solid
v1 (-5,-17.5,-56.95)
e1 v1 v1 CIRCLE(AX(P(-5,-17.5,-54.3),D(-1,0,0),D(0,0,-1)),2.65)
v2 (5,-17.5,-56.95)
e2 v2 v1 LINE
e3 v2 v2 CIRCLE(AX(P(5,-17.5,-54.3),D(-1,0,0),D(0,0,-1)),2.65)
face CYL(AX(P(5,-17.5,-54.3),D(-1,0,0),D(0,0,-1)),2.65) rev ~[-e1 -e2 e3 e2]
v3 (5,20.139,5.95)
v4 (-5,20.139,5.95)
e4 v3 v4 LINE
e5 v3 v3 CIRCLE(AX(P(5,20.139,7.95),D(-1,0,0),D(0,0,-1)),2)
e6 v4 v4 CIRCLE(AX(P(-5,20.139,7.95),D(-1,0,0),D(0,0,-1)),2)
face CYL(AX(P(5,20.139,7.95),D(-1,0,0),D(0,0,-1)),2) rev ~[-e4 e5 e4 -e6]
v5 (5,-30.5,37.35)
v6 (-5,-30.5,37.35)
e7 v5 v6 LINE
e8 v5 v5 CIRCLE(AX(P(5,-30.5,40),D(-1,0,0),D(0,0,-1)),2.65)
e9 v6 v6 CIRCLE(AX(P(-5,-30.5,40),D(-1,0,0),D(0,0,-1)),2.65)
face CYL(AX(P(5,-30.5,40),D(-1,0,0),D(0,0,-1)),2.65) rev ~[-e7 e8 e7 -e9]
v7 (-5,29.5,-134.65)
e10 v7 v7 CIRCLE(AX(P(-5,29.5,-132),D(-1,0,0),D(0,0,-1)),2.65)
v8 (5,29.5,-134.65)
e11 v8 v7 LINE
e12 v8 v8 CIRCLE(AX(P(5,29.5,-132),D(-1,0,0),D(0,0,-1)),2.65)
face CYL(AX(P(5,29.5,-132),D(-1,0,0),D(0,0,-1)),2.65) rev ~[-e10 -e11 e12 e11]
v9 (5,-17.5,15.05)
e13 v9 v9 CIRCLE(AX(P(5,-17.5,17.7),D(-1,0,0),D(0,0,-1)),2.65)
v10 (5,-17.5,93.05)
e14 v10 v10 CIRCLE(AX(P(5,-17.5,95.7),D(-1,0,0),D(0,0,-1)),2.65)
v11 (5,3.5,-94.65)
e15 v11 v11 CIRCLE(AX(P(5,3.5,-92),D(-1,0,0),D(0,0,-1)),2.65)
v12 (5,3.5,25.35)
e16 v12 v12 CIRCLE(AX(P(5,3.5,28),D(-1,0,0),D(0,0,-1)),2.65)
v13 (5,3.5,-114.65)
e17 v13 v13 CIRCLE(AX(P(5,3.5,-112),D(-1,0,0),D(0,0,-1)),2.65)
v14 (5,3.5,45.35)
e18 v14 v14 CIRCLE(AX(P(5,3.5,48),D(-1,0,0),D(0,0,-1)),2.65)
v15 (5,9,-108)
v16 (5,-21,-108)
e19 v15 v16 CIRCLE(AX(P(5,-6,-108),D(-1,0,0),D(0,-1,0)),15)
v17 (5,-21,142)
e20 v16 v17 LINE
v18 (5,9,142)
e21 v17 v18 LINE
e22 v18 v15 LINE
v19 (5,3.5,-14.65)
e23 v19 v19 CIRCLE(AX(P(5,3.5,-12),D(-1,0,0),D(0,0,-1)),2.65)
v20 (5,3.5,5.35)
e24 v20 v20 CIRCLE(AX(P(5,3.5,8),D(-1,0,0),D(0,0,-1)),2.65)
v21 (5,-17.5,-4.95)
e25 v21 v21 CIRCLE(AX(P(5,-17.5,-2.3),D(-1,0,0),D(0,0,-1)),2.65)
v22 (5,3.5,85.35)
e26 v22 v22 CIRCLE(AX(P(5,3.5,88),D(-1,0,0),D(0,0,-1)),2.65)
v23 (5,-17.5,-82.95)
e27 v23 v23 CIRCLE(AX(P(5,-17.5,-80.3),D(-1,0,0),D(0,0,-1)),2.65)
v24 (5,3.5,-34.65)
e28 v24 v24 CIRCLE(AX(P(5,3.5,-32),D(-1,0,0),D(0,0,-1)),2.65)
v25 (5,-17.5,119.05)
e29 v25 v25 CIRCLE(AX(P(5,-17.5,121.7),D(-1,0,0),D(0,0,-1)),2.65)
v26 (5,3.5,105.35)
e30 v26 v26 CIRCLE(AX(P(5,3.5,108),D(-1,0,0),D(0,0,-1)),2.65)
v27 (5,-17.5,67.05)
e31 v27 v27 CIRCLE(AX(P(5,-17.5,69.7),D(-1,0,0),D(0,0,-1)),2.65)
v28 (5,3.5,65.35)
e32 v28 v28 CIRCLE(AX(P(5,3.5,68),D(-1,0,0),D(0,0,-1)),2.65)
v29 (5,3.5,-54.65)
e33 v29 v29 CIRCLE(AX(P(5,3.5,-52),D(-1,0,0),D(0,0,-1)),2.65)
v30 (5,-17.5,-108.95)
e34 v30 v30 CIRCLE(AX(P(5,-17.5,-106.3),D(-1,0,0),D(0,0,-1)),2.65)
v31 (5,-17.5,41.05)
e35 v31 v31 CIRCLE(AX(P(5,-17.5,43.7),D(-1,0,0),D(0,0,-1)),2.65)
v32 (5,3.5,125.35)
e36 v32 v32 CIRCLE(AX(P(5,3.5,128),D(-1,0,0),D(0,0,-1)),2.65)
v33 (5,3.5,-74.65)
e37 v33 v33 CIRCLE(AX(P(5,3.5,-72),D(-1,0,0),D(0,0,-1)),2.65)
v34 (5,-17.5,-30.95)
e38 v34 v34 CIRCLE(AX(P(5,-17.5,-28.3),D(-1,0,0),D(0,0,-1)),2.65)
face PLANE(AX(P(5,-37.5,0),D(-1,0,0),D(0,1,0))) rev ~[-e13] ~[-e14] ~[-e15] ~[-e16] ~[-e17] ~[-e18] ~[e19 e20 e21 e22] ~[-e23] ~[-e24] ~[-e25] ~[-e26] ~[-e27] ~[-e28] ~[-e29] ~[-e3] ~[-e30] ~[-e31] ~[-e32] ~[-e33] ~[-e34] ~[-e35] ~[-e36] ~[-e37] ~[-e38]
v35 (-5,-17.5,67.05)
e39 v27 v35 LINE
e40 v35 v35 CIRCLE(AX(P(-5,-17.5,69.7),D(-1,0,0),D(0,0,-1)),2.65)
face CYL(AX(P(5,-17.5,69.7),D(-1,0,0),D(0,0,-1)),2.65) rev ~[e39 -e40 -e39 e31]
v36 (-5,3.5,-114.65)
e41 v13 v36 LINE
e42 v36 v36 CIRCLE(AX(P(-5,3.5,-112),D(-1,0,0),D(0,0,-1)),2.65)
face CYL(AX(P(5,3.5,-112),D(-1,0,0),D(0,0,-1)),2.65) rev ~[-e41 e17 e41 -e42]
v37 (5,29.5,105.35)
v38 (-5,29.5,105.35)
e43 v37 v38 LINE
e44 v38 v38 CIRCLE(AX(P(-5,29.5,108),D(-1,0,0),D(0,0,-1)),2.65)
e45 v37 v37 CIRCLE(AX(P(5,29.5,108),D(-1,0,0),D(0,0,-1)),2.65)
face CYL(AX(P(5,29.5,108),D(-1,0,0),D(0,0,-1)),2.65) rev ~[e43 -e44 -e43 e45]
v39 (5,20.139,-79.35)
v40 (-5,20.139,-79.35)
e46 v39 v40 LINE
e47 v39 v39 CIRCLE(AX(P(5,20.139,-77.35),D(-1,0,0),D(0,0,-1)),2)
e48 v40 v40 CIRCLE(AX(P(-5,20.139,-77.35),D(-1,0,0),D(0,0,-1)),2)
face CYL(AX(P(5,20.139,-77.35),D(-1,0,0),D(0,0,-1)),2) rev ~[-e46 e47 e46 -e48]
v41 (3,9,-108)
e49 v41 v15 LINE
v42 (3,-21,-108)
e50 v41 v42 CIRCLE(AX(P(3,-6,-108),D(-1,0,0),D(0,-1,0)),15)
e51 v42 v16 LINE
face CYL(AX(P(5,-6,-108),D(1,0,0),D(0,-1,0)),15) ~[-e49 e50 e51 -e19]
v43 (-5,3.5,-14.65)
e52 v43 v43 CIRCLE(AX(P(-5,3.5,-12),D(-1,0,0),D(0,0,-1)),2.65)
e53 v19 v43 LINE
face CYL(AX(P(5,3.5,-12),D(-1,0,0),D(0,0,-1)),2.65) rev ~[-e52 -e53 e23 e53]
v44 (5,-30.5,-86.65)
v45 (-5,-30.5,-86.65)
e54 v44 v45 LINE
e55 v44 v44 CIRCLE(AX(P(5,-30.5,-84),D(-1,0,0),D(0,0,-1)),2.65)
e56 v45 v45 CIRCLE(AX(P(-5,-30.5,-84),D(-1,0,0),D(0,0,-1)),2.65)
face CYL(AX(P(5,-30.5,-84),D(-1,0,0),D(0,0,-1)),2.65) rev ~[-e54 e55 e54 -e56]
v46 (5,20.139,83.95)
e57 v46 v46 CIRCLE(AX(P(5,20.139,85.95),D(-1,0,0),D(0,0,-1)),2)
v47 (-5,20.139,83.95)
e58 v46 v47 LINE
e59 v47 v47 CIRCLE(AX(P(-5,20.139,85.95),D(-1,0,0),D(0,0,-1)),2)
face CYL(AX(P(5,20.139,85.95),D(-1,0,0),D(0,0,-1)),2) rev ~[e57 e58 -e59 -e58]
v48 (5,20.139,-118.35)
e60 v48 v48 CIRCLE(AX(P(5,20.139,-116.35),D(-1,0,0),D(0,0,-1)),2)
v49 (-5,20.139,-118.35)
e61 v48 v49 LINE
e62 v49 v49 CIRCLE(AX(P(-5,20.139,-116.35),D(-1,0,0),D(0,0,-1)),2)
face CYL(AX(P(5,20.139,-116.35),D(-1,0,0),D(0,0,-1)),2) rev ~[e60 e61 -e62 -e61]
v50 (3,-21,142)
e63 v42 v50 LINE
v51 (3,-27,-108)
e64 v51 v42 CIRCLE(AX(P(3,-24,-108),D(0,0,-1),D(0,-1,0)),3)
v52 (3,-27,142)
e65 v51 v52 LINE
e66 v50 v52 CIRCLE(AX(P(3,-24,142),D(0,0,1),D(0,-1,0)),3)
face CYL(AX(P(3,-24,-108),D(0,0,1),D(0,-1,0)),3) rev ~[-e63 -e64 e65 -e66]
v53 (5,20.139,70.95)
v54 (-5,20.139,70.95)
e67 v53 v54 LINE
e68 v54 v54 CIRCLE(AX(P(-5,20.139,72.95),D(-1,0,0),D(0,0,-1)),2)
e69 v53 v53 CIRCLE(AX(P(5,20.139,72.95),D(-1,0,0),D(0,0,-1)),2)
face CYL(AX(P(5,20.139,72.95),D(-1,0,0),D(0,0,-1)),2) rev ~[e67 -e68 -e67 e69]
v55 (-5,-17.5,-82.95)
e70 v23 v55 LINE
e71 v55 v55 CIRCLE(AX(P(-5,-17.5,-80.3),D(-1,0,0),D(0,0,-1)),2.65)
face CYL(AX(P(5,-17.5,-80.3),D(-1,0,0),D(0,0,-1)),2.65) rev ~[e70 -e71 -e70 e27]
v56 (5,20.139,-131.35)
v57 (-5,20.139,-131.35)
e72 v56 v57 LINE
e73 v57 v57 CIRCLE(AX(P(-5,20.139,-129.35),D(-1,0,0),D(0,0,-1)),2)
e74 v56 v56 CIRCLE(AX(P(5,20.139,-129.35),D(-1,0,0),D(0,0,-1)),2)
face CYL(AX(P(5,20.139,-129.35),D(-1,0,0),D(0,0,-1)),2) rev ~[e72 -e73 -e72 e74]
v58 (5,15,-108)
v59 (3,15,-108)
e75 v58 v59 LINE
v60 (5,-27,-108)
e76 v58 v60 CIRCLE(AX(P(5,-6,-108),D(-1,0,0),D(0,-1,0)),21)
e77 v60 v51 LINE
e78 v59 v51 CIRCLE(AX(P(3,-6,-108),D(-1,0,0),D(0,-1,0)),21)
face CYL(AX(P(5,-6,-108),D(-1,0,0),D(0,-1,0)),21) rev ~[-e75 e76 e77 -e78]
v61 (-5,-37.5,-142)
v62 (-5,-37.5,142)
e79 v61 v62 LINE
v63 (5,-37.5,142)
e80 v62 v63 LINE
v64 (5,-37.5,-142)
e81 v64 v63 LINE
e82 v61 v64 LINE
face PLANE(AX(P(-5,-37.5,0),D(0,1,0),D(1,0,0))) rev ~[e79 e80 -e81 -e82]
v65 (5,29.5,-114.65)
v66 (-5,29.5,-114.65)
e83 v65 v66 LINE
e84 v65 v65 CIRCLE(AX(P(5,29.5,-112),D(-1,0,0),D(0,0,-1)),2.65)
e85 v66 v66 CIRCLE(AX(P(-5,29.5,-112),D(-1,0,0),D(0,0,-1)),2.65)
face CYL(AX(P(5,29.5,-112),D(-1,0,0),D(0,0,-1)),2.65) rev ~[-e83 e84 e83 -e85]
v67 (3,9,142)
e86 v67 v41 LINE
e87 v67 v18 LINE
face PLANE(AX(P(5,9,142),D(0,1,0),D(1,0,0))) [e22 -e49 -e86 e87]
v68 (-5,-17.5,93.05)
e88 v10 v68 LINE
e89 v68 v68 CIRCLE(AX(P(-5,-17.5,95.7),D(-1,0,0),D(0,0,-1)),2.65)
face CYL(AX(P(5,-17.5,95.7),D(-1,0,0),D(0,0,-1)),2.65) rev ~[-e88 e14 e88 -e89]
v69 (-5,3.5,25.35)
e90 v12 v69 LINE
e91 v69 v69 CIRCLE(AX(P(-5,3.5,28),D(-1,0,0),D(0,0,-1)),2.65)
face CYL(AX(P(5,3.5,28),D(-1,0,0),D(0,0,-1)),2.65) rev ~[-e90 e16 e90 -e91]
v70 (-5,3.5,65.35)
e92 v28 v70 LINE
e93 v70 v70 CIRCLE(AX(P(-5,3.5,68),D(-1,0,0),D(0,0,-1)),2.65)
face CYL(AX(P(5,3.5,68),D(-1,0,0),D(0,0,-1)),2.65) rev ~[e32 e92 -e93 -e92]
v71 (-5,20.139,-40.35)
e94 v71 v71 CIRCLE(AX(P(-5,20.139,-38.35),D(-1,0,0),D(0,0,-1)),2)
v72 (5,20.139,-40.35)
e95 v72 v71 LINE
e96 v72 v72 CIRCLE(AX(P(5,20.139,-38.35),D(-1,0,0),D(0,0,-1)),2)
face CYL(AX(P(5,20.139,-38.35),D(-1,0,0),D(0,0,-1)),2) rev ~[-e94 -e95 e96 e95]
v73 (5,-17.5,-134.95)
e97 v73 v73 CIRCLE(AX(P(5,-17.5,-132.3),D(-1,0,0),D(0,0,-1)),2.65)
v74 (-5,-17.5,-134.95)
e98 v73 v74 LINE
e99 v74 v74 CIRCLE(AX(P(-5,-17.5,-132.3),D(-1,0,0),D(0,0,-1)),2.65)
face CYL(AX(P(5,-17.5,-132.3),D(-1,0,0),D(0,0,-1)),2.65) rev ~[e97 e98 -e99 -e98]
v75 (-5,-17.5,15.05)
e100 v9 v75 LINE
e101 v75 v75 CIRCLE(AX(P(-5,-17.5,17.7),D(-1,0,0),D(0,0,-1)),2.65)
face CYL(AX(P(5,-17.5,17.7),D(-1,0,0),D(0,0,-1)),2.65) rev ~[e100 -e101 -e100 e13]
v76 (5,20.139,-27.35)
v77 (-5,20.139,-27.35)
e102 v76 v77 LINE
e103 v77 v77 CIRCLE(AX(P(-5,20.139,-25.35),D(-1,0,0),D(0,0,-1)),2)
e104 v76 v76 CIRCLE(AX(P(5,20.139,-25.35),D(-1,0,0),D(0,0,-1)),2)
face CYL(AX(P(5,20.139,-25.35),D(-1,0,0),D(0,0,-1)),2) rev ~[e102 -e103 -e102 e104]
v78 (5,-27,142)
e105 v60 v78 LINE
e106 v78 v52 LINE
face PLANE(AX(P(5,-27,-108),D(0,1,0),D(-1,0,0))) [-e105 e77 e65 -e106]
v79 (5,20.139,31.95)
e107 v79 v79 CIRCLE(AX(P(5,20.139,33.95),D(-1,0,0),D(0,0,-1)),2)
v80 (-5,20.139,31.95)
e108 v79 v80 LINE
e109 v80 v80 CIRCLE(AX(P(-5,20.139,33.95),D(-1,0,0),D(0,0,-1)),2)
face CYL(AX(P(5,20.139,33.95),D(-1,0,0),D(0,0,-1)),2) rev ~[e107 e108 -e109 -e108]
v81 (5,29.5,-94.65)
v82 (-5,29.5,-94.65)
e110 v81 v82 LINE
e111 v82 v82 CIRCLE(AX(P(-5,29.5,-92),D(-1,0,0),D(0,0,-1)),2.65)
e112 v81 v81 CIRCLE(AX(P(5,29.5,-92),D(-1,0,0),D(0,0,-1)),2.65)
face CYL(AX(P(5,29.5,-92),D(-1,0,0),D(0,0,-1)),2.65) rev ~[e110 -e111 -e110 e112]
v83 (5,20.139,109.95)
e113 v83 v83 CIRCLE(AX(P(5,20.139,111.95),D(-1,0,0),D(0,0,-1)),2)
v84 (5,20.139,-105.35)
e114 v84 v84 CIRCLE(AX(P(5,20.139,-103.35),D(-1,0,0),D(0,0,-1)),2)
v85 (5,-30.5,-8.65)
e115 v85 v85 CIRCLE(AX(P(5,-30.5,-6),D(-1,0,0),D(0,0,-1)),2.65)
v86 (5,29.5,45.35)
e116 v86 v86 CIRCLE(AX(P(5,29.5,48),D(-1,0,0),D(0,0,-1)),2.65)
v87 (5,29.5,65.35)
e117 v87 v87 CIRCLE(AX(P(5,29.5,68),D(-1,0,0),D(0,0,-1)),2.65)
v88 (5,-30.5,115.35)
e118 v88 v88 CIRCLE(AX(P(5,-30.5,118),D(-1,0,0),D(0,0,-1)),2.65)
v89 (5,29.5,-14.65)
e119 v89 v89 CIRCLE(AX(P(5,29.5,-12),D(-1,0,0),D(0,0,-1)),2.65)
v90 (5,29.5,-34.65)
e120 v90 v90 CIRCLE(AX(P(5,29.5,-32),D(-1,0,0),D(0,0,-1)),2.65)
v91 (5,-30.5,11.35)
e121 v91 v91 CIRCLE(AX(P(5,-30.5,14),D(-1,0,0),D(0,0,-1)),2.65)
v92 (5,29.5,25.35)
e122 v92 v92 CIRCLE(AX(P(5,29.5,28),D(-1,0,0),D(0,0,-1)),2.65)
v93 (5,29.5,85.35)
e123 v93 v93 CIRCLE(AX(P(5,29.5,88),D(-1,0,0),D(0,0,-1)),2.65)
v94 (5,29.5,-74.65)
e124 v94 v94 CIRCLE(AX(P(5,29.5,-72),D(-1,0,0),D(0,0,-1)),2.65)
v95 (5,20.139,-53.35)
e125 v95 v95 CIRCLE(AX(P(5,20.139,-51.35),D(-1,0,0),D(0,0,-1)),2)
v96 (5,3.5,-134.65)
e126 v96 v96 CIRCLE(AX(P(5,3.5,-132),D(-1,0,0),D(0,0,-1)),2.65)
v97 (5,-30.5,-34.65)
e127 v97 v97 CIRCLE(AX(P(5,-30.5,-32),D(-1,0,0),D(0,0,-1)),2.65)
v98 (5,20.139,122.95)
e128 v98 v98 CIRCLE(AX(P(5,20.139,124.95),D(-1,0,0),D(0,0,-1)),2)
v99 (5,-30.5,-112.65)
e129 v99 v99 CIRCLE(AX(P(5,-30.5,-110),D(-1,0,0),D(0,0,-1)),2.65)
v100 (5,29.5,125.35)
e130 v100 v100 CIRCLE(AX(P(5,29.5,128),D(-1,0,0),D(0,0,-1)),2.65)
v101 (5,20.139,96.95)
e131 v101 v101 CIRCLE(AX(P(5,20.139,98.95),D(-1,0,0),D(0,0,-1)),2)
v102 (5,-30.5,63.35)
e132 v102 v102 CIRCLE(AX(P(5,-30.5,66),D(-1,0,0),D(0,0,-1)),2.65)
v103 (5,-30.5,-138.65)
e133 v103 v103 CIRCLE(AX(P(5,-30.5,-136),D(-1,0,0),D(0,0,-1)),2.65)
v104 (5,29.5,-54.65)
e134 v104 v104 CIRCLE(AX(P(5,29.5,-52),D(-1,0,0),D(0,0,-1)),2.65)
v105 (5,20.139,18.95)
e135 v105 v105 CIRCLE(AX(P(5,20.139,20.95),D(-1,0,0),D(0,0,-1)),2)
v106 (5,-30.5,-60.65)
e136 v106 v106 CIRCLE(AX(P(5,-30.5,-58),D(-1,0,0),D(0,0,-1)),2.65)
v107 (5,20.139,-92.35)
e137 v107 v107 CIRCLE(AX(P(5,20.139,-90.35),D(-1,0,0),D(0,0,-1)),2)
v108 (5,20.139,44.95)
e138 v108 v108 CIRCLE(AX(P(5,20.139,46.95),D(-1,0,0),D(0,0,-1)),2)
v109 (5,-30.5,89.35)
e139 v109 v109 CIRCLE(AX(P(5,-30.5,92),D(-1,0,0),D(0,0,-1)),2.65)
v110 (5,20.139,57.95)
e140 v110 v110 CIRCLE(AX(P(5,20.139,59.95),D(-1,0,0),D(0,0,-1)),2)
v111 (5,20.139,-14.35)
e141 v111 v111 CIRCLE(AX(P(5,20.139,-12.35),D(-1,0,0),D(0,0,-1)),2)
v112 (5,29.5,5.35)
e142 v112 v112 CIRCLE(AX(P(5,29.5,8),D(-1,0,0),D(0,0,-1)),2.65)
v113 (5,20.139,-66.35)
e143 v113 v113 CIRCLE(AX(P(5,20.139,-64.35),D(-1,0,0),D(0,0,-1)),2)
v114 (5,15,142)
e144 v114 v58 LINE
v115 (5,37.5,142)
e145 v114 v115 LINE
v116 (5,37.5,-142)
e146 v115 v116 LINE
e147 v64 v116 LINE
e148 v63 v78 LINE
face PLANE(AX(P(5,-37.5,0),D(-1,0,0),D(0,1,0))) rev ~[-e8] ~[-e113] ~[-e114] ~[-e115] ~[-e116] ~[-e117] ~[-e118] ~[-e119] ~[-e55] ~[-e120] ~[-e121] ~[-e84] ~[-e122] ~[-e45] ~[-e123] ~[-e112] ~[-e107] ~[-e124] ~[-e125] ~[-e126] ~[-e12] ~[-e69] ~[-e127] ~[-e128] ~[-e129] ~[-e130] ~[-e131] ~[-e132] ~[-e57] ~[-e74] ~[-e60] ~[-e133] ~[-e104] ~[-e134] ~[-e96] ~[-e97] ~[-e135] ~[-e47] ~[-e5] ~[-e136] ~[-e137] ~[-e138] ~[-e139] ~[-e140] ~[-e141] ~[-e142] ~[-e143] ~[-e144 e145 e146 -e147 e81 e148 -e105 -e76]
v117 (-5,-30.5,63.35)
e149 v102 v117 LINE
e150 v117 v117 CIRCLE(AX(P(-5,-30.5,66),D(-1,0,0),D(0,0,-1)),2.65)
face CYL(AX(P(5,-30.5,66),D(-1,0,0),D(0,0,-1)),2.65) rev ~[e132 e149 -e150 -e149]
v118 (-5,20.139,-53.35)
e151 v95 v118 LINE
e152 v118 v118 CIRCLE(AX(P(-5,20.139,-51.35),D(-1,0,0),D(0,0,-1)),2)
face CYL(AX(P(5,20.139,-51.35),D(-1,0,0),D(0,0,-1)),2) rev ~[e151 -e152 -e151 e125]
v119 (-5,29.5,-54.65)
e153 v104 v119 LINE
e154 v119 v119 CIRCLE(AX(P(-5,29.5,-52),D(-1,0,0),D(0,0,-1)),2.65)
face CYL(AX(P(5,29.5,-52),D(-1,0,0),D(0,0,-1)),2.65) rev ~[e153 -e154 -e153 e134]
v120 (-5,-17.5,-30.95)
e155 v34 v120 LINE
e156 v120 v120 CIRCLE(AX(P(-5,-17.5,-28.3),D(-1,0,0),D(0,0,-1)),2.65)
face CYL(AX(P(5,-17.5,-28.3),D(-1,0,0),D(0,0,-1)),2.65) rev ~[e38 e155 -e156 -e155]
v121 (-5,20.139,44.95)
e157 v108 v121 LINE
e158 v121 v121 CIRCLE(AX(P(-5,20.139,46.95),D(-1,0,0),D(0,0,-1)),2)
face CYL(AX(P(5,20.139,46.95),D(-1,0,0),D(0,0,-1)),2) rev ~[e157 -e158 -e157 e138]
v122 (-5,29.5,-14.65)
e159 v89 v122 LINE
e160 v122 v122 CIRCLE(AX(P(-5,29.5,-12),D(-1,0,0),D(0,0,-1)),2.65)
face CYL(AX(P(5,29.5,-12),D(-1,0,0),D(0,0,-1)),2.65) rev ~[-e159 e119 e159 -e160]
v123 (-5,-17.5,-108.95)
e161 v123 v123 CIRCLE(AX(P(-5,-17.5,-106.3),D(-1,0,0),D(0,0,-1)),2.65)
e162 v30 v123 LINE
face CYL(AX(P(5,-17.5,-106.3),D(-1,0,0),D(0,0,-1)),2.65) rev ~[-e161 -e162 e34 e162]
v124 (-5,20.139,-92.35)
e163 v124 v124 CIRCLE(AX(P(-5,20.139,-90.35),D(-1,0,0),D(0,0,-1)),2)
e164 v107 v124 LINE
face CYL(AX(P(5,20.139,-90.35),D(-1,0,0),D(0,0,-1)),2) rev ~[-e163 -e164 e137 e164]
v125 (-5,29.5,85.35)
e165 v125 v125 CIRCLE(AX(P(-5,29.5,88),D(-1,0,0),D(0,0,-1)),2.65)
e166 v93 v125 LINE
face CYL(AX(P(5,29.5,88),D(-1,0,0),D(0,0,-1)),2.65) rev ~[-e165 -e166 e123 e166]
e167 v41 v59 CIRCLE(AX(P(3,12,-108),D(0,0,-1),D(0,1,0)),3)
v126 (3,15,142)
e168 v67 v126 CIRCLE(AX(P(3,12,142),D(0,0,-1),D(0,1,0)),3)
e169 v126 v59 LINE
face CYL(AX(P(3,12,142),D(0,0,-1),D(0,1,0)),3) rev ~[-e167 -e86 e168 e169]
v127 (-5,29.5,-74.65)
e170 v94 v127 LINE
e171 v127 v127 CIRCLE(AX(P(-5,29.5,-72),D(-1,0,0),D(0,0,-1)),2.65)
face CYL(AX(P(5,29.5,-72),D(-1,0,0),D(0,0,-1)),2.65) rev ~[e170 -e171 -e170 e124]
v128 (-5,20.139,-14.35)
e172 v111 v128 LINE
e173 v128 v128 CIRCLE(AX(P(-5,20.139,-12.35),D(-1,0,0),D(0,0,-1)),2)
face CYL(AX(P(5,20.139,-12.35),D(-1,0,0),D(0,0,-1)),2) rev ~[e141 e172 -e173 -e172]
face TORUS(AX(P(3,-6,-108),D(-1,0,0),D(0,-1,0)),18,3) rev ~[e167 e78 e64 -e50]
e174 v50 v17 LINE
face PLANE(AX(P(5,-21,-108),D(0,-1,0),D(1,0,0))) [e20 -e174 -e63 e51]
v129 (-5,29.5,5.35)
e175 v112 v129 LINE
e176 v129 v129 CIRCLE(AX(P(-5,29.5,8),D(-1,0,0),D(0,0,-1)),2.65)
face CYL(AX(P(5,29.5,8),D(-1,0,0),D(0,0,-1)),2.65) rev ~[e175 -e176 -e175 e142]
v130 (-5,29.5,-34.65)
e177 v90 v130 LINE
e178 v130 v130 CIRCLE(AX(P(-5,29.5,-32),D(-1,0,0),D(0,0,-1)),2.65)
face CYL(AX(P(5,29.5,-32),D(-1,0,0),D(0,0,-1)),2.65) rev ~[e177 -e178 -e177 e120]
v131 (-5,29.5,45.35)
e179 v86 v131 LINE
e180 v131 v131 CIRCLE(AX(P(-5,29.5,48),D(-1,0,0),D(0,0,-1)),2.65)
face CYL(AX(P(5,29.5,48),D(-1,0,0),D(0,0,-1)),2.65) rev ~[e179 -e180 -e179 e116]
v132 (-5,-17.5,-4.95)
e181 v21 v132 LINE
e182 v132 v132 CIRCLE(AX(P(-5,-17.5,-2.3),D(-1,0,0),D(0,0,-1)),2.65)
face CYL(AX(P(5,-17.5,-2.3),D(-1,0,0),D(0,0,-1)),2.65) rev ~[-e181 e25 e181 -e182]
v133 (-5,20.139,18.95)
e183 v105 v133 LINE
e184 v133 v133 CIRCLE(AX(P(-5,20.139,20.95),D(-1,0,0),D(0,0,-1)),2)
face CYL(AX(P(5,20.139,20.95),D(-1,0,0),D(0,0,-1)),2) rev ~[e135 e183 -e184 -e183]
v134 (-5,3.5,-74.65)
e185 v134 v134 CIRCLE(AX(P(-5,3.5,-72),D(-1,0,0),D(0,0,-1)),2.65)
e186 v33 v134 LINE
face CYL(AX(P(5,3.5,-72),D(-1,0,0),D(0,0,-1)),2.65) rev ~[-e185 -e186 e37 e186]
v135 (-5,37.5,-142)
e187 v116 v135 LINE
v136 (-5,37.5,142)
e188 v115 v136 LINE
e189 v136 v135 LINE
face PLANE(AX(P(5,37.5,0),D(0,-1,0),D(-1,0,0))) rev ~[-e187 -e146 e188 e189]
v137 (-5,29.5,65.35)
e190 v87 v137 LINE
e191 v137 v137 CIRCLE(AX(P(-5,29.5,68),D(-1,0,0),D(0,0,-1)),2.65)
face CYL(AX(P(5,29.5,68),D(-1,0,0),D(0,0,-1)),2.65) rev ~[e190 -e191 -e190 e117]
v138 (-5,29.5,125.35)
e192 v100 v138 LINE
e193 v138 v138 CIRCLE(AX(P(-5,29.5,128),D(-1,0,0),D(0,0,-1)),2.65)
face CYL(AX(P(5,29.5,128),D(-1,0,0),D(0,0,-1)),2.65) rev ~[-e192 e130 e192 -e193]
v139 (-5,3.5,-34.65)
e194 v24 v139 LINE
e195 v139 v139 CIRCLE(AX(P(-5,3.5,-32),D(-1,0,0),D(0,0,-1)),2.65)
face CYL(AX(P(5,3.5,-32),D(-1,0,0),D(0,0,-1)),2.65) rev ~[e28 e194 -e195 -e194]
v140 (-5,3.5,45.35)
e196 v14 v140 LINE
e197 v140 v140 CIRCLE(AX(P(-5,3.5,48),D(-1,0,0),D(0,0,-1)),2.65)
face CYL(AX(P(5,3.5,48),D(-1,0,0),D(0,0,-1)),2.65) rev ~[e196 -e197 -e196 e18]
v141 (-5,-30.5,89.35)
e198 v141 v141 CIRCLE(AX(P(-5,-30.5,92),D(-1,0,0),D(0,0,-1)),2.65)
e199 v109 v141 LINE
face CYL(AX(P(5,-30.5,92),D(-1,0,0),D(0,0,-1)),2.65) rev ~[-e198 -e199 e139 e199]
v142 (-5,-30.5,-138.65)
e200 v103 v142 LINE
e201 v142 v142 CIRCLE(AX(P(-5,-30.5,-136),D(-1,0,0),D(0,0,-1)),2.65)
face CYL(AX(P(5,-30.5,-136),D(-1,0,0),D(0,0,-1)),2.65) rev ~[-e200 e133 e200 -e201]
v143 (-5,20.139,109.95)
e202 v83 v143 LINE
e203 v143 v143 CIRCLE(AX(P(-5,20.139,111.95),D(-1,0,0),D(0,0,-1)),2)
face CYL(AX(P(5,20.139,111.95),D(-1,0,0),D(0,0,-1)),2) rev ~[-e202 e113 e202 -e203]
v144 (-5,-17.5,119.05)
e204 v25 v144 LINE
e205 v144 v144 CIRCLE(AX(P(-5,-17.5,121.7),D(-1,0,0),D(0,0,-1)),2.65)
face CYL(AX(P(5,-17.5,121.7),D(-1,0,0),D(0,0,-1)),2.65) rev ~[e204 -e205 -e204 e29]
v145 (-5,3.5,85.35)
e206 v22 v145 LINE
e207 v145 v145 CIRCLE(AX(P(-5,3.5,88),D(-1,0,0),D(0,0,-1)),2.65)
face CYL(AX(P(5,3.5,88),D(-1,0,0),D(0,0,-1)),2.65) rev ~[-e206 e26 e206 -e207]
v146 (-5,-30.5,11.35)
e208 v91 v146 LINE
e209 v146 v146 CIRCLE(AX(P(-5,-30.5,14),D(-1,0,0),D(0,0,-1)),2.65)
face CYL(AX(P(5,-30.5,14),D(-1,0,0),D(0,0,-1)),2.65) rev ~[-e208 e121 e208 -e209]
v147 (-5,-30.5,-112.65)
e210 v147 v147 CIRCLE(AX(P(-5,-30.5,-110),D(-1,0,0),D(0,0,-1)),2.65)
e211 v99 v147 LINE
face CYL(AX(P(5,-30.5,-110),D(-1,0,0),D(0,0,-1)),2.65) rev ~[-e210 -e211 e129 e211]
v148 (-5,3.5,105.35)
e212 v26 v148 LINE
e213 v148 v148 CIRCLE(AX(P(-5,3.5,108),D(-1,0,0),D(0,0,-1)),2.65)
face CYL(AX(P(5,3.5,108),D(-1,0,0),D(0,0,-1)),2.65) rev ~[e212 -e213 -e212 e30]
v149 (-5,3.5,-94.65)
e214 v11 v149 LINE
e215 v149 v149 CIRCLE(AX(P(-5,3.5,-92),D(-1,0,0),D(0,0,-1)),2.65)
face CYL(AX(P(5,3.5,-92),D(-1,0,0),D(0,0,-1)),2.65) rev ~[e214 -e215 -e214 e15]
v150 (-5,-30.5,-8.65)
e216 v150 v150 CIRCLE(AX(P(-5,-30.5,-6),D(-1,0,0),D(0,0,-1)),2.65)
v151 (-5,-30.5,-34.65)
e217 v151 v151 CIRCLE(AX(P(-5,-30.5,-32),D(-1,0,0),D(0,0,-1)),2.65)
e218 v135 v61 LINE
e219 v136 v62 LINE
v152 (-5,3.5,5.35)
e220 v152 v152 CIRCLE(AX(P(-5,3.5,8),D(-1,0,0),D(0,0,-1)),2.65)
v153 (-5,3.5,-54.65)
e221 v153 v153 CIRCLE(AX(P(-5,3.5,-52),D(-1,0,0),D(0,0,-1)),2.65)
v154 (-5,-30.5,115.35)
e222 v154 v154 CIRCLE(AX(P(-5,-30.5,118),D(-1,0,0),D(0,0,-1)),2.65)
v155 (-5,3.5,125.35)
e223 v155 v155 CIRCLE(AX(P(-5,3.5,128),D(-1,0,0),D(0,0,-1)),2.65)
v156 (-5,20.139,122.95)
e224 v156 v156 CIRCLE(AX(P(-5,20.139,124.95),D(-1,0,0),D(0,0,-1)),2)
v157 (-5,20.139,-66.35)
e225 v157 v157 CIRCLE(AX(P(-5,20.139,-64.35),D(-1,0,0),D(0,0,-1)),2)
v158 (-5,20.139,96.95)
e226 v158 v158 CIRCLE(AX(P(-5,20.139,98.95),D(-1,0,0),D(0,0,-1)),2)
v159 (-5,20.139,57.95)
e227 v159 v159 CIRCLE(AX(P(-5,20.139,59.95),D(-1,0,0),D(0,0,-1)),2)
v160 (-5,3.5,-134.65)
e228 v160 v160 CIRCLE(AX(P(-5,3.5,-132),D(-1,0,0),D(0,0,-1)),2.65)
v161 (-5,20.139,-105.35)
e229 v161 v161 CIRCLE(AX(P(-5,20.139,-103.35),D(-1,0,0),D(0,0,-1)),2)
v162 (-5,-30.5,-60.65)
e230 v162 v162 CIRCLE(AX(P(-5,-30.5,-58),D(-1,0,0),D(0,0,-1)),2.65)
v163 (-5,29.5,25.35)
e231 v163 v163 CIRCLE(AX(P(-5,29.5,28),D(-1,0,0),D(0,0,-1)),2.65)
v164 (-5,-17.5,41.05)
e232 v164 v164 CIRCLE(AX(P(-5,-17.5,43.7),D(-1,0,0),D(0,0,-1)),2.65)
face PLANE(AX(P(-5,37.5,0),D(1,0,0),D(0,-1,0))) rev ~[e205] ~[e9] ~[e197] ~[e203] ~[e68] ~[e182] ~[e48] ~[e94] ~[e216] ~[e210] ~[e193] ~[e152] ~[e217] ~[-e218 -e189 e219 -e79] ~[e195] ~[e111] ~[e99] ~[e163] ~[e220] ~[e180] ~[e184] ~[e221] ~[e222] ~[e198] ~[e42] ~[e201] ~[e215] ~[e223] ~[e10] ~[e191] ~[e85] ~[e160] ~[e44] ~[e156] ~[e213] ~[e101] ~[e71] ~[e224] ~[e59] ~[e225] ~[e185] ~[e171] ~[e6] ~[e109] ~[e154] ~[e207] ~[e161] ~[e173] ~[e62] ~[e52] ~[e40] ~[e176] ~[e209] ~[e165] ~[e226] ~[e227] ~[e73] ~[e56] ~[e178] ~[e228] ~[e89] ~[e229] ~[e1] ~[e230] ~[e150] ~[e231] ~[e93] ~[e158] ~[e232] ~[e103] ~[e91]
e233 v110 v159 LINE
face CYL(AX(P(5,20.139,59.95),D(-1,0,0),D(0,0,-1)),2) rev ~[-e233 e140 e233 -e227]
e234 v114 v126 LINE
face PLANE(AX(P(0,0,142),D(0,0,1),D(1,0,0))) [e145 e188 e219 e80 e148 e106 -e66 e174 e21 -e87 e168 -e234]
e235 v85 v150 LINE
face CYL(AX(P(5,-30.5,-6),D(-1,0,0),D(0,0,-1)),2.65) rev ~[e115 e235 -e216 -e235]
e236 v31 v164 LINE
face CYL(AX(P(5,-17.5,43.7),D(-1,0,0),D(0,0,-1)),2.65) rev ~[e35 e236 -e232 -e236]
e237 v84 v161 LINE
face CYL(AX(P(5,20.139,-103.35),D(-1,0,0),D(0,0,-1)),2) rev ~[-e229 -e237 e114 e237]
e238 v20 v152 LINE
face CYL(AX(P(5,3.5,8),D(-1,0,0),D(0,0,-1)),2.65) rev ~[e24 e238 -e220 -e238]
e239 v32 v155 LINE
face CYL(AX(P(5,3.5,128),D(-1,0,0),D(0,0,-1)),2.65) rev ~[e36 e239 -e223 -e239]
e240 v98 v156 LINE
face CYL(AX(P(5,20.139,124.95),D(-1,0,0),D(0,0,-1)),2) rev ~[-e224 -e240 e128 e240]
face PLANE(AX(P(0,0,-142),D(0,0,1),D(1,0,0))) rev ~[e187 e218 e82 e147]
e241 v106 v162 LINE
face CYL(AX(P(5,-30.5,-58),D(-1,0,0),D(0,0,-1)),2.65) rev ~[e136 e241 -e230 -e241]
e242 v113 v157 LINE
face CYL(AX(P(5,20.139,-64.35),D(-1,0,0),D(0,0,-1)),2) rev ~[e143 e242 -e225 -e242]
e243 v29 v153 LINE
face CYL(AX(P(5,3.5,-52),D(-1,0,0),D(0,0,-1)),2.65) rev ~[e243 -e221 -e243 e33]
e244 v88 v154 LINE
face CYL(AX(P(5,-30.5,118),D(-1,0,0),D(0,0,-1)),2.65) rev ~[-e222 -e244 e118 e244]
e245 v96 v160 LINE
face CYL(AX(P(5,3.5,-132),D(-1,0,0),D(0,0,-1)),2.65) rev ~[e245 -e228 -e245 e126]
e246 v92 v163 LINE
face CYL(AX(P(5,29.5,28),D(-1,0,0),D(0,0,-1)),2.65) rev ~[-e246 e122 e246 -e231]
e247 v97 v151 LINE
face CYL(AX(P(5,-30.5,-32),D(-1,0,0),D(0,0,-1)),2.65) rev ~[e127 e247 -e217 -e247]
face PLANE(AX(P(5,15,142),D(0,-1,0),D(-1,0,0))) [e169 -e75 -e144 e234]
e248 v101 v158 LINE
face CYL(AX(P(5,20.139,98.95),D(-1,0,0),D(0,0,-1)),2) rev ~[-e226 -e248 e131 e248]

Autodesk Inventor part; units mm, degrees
ref_plane "YZ Plane" through (0, 0, 0) normal (1, 0, 0) x (0, 1, 0)
ref_plane "XZ Plane" through (0, 0, 0) normal (0, 1, 0) x (-1, 0, 0)
ref_plane "XY Plane" through (0, 0, 0) normal (0, 0, 1) x (1, 0, 0)
sketch "Sketch1" plane through (0, 0, 0) normal (0, 0, 1) x (1, 0, 0)
  line L0 (0, 52.5) -> (0, -52.5) construction
  line L1 (-7, 0) -> (7, 0) construction
  line L2 (-5, -37.5) -> (5, -37.5)
  line L3 (5, -37.5) -> (5, 37.5)
  line L4 (5, 37.5) -> (-5, 37.5)
  line L5 (-5, 37.5) -> (-5, -37.5)
  line L6 (-5, -37.5) -> (5, 37.5) construction
  line L7 (5, -37.5) -> (-5, 37.5) construction
  point P0 (0, 0)
  dimension "d0" = 75
  dimension "d1" = 10
extrude "Extrusion1" add sketch "Sketch1" along normal mid plane 284
sketch "Sketch5" plane through (5, -37.5, 142) normal (1, 0, 0) x (0, 0, -1)
  circle A0 centre (154, 67) radius 1.621 projected
  circle A1 centre (154, 41) radius 1.621 projected
  circle A2 centre (174, 67) radius 1.621 projected
  circle A3 centre (174, 41) radius 1.621 projected
  circle A4 centre (194, 67) radius 1.621 projected
  circle A5 centre (194, 41) radius 1.621 projected
  circle A6 centre (214, 67) radius 1.621 projected
  circle A7 centre (214, 41) radius 1.621 projected
  circle A8 centre (234, 67) radius 1.621 projected
  circle A9 centre (234, 41) radius 1.621 projected
  circle A10 centre (254, 67) radius 1.621 projected
  circle A11 centre (254, 41) radius 1.621 projected
  circle A12 centre (274, 67) radius 1.621 projected
  circle A13 centre (274, 41) radius 1.621 projected
  line L0 (299.292, 35) -> (299.292, 75) projected
  line L1 (299.292, 75) -> (0, 75) projected
  line L2 (299.292, 35) -> (0, 35) projected
  circle A14 centre (148, 7) radius 1.621 projected
  circle A15 centre (174, 7) radius 1.621 projected
  circle A16 centre (196.3, 20) radius 1.621 projected
  circle A17 centre (200, 7) radius 1.621 projected
  circle A18 centre (222.3, 20) radius 1.621 projected
  circle A19 centre (226, 7) radius 1.621 projected
  circle A20 centre (248.3, 20) radius 1.621 projected
  circle A21 centre (252, 7) radius 1.621 projected
  circle A22 centre (274.3, 20) radius 1.621 projected
  circle A23 centre (278, 7) radius 1.621 projected
  circle A24 centre (20.3, 13.85) radius 0.7835 projected
  circle A25 centre (33.3, 13.85) radius 0.7835 projected
  circle A26 centre (46.3, 13.85) radius 0.7835 projected
  circle A27 centre (59.3, 13.85) radius 0.7835 projected
  circle A28 centre (72.3, 13.85) radius 0.7835 projected
  circle A29 centre (85.3, 13.85) radius 0.7835 projected
  circle A30 centre (98.3, 13.85) radius 0.7835 projected
  circle A31 centre (111.3, 13.85) radius 0.7835 projected
  circle A32 centre (124.3, 13.85) radius 0.7835 projected
  circle A33 centre (136.7, 25.15) radius 0.7835 projected
  circle A34 centre (157.6, 13.85) radius 0.7835 projected
  circle A35 centre (170.6, 13.85) radius 0.7835 projected
  circle A36 centre (183.6, 13.85) radius 0.7835 projected
  circle A37 centre (196.6, 13.85) radius 0.7835 projected
  circle A38 centre (209, 25.15) radius 0.7835 projected
  circle A39 centre (222.6, 13.85) radius 0.7835 projected
  circle A40 centre (235, 25.15) radius 0.7835 projected
  circle A41 centre (248.6, 13.85) radius 0.7835 projected
  circle A42 centre (261, 25.15) radius 0.7835 projected
  circle A43 centre (274, 25.15) radius 0.7835 projected
  circle A44 centre (261.6, 13.85) radius 0.7835 projected
  circle A45 centre (248, 25.15) radius 0.7835 projected
  circle A46 centre (235.6, 13.85) radius 0.7835 projected
  circle A47 centre (222, 25.15) radius 0.7835 projected
  circle A48 centre (209.6, 13.85) radius 0.7835 projected
  circle A49 centre (196, 25.15) radius 0.7835 projected
  circle A50 centre (170, 25.15) radius 0.7835 projected
  circle A51 centre (144.6, 13.85) radius 0.7835 projected
  circle A52 centre (123.7, 25.15) radius 0.7835 projected
  circle A53 centre (97.7, 25.15) radius 0.7835 projected
  circle A54 centre (71.7, 25.15) radius 0.7835 projected
  circle A55 centre (58.7, 25.15) radius 0.7835 projected
  circle A56 centre (45.7, 25.15) radius 0.7835 projected
  circle A57 centre (32.7, 25.15) radius 0.7835 projected
  circle A58 centre (19.7, 25.15) radius 0.7835 projected
  circle A59 centre (7.3, 13.85) radius 0.7835 projected
  line L3 (289.292, 0) -> (289.292, 30) projected
  line L4 (289.292, 30) -> (0, 30) projected
  line L5 (0, 0) -> (0, 30) projected
  line L6 (289.292, 0) -> (0, 0) projected
  circle A60 centre (84.7, 25.15) radius 0.7835 projected
  circle A61 centre (84.7, 25.15) radius 0.7835 projected
  circle A62 centre (20.3, 20) radius 1.621 projected
  circle A63 centre (24, 7) radius 1.621 projected
  circle A64 centre (46.3, 20) radius 1.621 projected
  circle A65 centre (50, 7) radius 1.621 projected
  circle A66 centre (72.3, 20) radius 1.621 projected
  circle A67 centre (76, 7) radius 1.621 projected
  circle A68 centre (98.3, 20) radius 1.621 projected
  circle A69 centre (102, 7) radius 1.621 projected
  circle A70 centre (124.3, 20) radius 1.621 projected
  circle A71 centre (128, 7) radius 1.621 projected
  circle A72 centre (110.7, 25.15) radius 0.7835 projected
  circle A73 centre (110.7, 25.15) radius 0.7835 projected
  circle A74 centre (144, 20) radius 1.621 projected
  circle A75 centre (144.3, 20) radius 1.621 projected
  circle A76 centre (157, 25.15) radius 0.7835 projected
  circle A77 centre (157, 25.15) radius 0.7835 projected
  circle A78 centre (170, 20) radius 1.621 projected
  circle A79 centre (170.3, 20) radius 1.621 projected
  circle A80 centre (183, 25.15) radius 0.7835 projected
  circle A81 centre (183, 25.15) radius 0.7835 projected
  circle A82 centre (258.35, 57.639) radius 1.6 projected
  circle A83 centre (232.35, 57.639) radius 1.6 projected
  circle A84 centre (206.35, 57.639) radius 1.6 projected
  circle A85 centre (180.35, 57.639) radius 1.6 projected
  circle A86 centre (154.35, 57.639) radius 1.6 projected
  circle A87 centre (167.35, 57.639) radius 1.6 projected
  circle A88 centre (193.35, 57.639) radius 1.6 projected
  circle A89 centre (219.35, 57.639) radius 1.6 projected
  circle A90 centre (245.35, 57.639) radius 1.6 projected
  circle A91 centre (271.35, 57.639) radius 1.6 projected
  circle A92 centre (14, 67) radius 1.621 projected
  circle A93 centre (14, 41) radius 1.621 projected
  circle A94 centre (34, 67) radius 1.621 projected
  circle A95 centre (34, 41) radius 1.621 projected
  circle A96 centre (54, 67) radius 1.621 projected
  circle A97 centre (54, 41) radius 1.621 projected
  circle A98 centre (74, 67) radius 1.621 projected
  circle A99 centre (74, 41) radius 1.621 projected
  circle A100 centre (94, 67) radius 1.621 projected
  circle A101 centre (94, 41) radius 1.621 projected
  circle A102 centre (114, 67) radius 1.621 projected
  circle A103 centre (114, 41) radius 1.621 projected
  circle A104 centre (134, 67) radius 1.621 projected
  circle A105 centre (134, 41) radius 1.621 projected
  circle A106 centre (121.05, 57.639) radius 1.6 projected
  circle A107 centre (95.05, 57.639) radius 1.6 projected
  circle A108 centre (69.05, 57.639) radius 1.6 projected
  circle A109 centre (43.05, 57.639) radius 1.6 projected
  circle A110 centre (17.05, 57.639) radius 1.6 projected
  circle A111 centre (30.05, 57.639) radius 1.6 projected
  circle A112 centre (56.05, 57.639) radius 1.6 projected
  circle A113 centre (82.05, 57.639) radius 1.6 projected
  circle A114 centre (108.05, 57.639) radius 1.6 projected
  circle A115 centre (134.05, 57.639) radius 1.6 projected
  line L7 (0, 35) -> (0, 75) projected
  point P0 (142, 37.5)
  point P1 (274, 67)
  point P2 (254, 67)
  point P3 (274, 41)
  point P4 (194, 67)
  point P5 (174, 67)
  point P6 (174, 41)
  point P7 (154, 41)
  point P8 (134, 67)
  point P9 (134, 41)
  point P10 (114, 41)
  point P11 (94, 41)
  point P12 (94, 67)
  point P13 (54, 67)
  point P14 (34, 41)
  point P15 (34, 67)
  point P16 (14, 67)
  point P17 (274.3, 20)
  point P18 (252, 7)
  point P19 (222.3, 20)
  point P20 (226, 7)
  point P21 (196.3, 20)
  point P22 (200, 7)
  point P23 (144.3, 20)
  point P24 (148, 7)
  point P25 (124.3, 20)
  point P26 (128, 7)
  point P27 (72.3, 20)
  point P28 (76, 7)
  point P29 (24, 7)
  point P30 (20.3, 20)
hole "Hole1" at (5, -17.5, -132.3) at (5, -30.5, -136) at (5, -17.5, -106.3) at (5, -30.5, -110) at (5, -17.5, -80.3) at (5, -30.5, -84) at (5, -17.5, -54.3) at (5, -30.5, -58) at (5, -17.5, -28.3) at (5, -30.5, -32) at (5, -17.5, -2.3) at (5, -30.5, -6) at (5, -17.5, 17.7) at (5, -30.5, 14) at (5, -17.5, 43.7) at (5, -30.5, 40) at (5, -17.5, 69.7) at (5, -30.5, 66) at (5, -17.5, 95.7) at (5, -30.5, 92) at (5, -30.5, 118) at (5, -17.5, 121.7) at (5, 29.5, 128) at (5, 3.5, 128) at (5, 29.5, 108) at (5, 3.5, 108) at (5, 29.5, 88) at (5, 3.5, 88) at (5, 29.5, 68) at (5, 29.5, 48) at (5, 29.5, 28) at (5, 3.5, 68) at (5, 3.5, 48) at (5, 3.5, 28) at (5, 3.5, 8) at (5, 3.5, -12) at (5, 3.5, -32) at (5, 3.5, -52) at (5, 3.5, -72) at (5, 3.5, -92) at (5, 3.5, -112) at (5, 3.5, -132) at (5, 29.5, -132) at (5, 29.5, -112) at (5, 29.5, -92) at (5, 29.5, -72) at (5, 29.5, -52) at (5, 29.5, -32) at (5, 29.5, -12) at (5, 29.5, 8) direction (-1, 0, 0) diameter 5.3 end through all
sketch "Sketch2" plane through (0, 0, 142) normal (0, 0, 1) x (1, 0, 0)
  line L0 (-5, -37.5) -> (5, -37.5) projected
  line L1 (5, -37.5) -> (5, 37.5) projected
  line L2 (5, 37.5) -> (-5, 37.5) projected
  line L3 (-5, 37.5) -> (-5, -37.5) projected
  arc A0 (3, 15) -> (3, 9) centre (3, 12) ccw
  line L4 (5, 15) -> (3, 15)
  line L5 (5, 9) -> (3, 9)
  point P0 (0, 0)
  dimension "d4" = 6
  dimension "d5" = 2
  dimension "d6" = 12
sketch "Sketch3" plane through (5, -37.5, 142) normal (1, 0, 0) x (0, 0, -1)
  line L0 (0, 49.5) -> (250, 49.5)
  arc A0 (250, 13.5) -> (250, 49.5) centre (250, 31.5) ccw
  line L1 (250, 13.5) -> (0, 13.5)
  line L2 (284, 75) -> (284, 0) projected
  point P0 (142, 37.5)
  dimension "d11" = 36
  dimension "d12" = 34
sweep "Sweep1" cut profiles "Sketch2" path "Sketch3" path curves L0 A0 L1 contours L5 A0 L4 L1
sketch "Sketch6" plane through (5, -37.5, -142) normal (1, 0, 0) x (0, 0, -1)
  circle A0 centre (-130, 67) radius 1.621 projected
  circle A1 centre (-130, 41) radius 1.621 projected
  circle A2 centre (-110, 67) radius 1.621 projected
  circle A3 centre (-110, 41) radius 1.621 projected
  circle A4 centre (-90, 67) radius 1.621 projected
  circle A5 centre (-90, 41) radius 1.621 projected
  circle A6 centre (-70, 67) radius 1.621 projected
  circle A7 centre (-70, 41) radius 1.621 projected
  circle A8 centre (-50, 67) radius 1.621 projected
  circle A9 centre (-50, 41) radius 1.621 projected
  circle A10 centre (-30, 67) radius 1.621 projected
  circle A11 centre (-30, 41) radius 1.621 projected
  circle A12 centre (-10, 67) radius 1.621 projected
  circle A13 centre (-10, 41) radius 1.621 projected
  circle A14 centre (-25.65, 57.639) radius 1.6 projected
  circle A15 centre (-51.65, 57.639) radius 1.6 projected
  circle A16 centre (-77.65, 57.639) radius 1.6 projected
  circle A17 centre (-103.65, 57.639) radius 1.6 projected
  circle A18 centre (-129.65, 57.639) radius 1.6 projected
  circle A19 centre (-116.65, 57.639) radius 1.6 projected
  circle A20 centre (-90.65, 57.639) radius 1.6 projected
  circle A21 centre (-64.65, 57.639) radius 1.6 projected
  circle A22 centre (-38.65, 57.639) radius 1.6 projected
  circle A23 centre (-12.65, 57.639) radius 1.6 projected
  line L0 (15.292, 35) -> (15.292, 75) projected
  line L1 (15.292, 75) -> (-284, 75) projected
  line L2 (15.292, 35) -> (-284, 35) projected
  circle A24 centre (-270, 67) radius 1.621 projected
  circle A25 centre (-270, 41) radius 1.621 projected
  circle A26 centre (-250, 67) radius 1.621 projected
  circle A27 centre (-250, 41) radius 1.621 projected
  circle A28 centre (-230, 67) radius 1.621 projected
  circle A29 centre (-230, 41) radius 1.621 projected
  circle A30 centre (-210, 67) radius 1.621 projected
  circle A31 centre (-210, 41) radius 1.621 projected
  circle A32 centre (-190, 67) radius 1.621 projected
  circle A33 centre (-190, 41) radius 1.621 projected
  circle A34 centre (-170, 67) radius 1.621 projected
  circle A35 centre (-170, 41) radius 1.621 projected
  circle A36 centre (-150, 67) radius 1.621 projected
  circle A37 centre (-150, 41) radius 1.621 projected
  circle A38 centre (-162.95, 57.639) radius 1.6 projected
  circle A39 centre (-188.95, 57.639) radius 1.6 projected
  circle A40 centre (-214.95, 57.639) radius 1.6 projected
  circle A41 centre (-240.95, 57.639) radius 1.6 projected
  circle A42 centre (-266.95, 57.639) radius 1.6 projected
  circle A43 centre (-253.95, 57.639) radius 1.6 projected
  circle A44 centre (-227.95, 57.639) radius 1.6 projected
  circle A45 centre (-201.95, 57.639) radius 1.6 projected
  circle A46 centre (-175.95, 57.639) radius 1.6 projected
  circle A47 centre (-149.95, 57.639) radius 1.6 projected
  line L3 (-284, 35) -> (-284, 75) projected
  point P0 (-142, 37.5)
  point P1 (-12.65, 57.639)
  point P2 (-25.65, 57.639)
  point P3 (-38.65, 57.639)
  point P4 (-51.65, 57.639)
  point P5 (-64.65, 57.639)
  point P6 (-77.65, 57.639)
  point P7 (-90.65, 57.639)
  point P8 (-103.65, 57.639)
  point P9 (-116.65, 57.639)
  point P10 (-129.65, 57.639)
  point P11 (-149.95, 57.639)
  point P12 (-162.95, 57.639)
  point P13 (-175.95, 57.639)
  point P14 (-188.95, 57.639)
  point P15 (-201.95, 57.639)
  point P16 (-214.95, 57.639)
  point P17 (-227.95, 57.639)
  point P18 (-240.95, 57.639)
  point P19 (-253.95, 57.639)
hole "Hole2" at (5, 20.139, -129.35) at (5, 20.139, -116.35) at (5, 20.139, -103.35) at (5, 20.139, -90.35) at (5, 20.139, -77.35) at (5, 20.139, -64.35) at (5, 20.139, -51.35) at (5, 20.139, -38.35) at (5, 20.139, -25.35) at (5, 20.139, -12.35) at (5, 20.139, 7.95) at (5, 20.139, 20.95) at (5, 20.139, 33.95) at (5, 20.139, 46.95) at (5, 20.139, 59.95) at (5, 20.139, 72.95) at (5, 20.139, 85.95) at (5, 20.139, 98.95) at (5, 20.139, 111.95) at (5, 20.139, 124.95) direction (-1, 0, 0) diameter 4 end through all
equation "\"d4\" = d4_1"
equation "\"d4_1\" = 6"
properties part number "17-0028-0016" material "Aluminum-6061"
